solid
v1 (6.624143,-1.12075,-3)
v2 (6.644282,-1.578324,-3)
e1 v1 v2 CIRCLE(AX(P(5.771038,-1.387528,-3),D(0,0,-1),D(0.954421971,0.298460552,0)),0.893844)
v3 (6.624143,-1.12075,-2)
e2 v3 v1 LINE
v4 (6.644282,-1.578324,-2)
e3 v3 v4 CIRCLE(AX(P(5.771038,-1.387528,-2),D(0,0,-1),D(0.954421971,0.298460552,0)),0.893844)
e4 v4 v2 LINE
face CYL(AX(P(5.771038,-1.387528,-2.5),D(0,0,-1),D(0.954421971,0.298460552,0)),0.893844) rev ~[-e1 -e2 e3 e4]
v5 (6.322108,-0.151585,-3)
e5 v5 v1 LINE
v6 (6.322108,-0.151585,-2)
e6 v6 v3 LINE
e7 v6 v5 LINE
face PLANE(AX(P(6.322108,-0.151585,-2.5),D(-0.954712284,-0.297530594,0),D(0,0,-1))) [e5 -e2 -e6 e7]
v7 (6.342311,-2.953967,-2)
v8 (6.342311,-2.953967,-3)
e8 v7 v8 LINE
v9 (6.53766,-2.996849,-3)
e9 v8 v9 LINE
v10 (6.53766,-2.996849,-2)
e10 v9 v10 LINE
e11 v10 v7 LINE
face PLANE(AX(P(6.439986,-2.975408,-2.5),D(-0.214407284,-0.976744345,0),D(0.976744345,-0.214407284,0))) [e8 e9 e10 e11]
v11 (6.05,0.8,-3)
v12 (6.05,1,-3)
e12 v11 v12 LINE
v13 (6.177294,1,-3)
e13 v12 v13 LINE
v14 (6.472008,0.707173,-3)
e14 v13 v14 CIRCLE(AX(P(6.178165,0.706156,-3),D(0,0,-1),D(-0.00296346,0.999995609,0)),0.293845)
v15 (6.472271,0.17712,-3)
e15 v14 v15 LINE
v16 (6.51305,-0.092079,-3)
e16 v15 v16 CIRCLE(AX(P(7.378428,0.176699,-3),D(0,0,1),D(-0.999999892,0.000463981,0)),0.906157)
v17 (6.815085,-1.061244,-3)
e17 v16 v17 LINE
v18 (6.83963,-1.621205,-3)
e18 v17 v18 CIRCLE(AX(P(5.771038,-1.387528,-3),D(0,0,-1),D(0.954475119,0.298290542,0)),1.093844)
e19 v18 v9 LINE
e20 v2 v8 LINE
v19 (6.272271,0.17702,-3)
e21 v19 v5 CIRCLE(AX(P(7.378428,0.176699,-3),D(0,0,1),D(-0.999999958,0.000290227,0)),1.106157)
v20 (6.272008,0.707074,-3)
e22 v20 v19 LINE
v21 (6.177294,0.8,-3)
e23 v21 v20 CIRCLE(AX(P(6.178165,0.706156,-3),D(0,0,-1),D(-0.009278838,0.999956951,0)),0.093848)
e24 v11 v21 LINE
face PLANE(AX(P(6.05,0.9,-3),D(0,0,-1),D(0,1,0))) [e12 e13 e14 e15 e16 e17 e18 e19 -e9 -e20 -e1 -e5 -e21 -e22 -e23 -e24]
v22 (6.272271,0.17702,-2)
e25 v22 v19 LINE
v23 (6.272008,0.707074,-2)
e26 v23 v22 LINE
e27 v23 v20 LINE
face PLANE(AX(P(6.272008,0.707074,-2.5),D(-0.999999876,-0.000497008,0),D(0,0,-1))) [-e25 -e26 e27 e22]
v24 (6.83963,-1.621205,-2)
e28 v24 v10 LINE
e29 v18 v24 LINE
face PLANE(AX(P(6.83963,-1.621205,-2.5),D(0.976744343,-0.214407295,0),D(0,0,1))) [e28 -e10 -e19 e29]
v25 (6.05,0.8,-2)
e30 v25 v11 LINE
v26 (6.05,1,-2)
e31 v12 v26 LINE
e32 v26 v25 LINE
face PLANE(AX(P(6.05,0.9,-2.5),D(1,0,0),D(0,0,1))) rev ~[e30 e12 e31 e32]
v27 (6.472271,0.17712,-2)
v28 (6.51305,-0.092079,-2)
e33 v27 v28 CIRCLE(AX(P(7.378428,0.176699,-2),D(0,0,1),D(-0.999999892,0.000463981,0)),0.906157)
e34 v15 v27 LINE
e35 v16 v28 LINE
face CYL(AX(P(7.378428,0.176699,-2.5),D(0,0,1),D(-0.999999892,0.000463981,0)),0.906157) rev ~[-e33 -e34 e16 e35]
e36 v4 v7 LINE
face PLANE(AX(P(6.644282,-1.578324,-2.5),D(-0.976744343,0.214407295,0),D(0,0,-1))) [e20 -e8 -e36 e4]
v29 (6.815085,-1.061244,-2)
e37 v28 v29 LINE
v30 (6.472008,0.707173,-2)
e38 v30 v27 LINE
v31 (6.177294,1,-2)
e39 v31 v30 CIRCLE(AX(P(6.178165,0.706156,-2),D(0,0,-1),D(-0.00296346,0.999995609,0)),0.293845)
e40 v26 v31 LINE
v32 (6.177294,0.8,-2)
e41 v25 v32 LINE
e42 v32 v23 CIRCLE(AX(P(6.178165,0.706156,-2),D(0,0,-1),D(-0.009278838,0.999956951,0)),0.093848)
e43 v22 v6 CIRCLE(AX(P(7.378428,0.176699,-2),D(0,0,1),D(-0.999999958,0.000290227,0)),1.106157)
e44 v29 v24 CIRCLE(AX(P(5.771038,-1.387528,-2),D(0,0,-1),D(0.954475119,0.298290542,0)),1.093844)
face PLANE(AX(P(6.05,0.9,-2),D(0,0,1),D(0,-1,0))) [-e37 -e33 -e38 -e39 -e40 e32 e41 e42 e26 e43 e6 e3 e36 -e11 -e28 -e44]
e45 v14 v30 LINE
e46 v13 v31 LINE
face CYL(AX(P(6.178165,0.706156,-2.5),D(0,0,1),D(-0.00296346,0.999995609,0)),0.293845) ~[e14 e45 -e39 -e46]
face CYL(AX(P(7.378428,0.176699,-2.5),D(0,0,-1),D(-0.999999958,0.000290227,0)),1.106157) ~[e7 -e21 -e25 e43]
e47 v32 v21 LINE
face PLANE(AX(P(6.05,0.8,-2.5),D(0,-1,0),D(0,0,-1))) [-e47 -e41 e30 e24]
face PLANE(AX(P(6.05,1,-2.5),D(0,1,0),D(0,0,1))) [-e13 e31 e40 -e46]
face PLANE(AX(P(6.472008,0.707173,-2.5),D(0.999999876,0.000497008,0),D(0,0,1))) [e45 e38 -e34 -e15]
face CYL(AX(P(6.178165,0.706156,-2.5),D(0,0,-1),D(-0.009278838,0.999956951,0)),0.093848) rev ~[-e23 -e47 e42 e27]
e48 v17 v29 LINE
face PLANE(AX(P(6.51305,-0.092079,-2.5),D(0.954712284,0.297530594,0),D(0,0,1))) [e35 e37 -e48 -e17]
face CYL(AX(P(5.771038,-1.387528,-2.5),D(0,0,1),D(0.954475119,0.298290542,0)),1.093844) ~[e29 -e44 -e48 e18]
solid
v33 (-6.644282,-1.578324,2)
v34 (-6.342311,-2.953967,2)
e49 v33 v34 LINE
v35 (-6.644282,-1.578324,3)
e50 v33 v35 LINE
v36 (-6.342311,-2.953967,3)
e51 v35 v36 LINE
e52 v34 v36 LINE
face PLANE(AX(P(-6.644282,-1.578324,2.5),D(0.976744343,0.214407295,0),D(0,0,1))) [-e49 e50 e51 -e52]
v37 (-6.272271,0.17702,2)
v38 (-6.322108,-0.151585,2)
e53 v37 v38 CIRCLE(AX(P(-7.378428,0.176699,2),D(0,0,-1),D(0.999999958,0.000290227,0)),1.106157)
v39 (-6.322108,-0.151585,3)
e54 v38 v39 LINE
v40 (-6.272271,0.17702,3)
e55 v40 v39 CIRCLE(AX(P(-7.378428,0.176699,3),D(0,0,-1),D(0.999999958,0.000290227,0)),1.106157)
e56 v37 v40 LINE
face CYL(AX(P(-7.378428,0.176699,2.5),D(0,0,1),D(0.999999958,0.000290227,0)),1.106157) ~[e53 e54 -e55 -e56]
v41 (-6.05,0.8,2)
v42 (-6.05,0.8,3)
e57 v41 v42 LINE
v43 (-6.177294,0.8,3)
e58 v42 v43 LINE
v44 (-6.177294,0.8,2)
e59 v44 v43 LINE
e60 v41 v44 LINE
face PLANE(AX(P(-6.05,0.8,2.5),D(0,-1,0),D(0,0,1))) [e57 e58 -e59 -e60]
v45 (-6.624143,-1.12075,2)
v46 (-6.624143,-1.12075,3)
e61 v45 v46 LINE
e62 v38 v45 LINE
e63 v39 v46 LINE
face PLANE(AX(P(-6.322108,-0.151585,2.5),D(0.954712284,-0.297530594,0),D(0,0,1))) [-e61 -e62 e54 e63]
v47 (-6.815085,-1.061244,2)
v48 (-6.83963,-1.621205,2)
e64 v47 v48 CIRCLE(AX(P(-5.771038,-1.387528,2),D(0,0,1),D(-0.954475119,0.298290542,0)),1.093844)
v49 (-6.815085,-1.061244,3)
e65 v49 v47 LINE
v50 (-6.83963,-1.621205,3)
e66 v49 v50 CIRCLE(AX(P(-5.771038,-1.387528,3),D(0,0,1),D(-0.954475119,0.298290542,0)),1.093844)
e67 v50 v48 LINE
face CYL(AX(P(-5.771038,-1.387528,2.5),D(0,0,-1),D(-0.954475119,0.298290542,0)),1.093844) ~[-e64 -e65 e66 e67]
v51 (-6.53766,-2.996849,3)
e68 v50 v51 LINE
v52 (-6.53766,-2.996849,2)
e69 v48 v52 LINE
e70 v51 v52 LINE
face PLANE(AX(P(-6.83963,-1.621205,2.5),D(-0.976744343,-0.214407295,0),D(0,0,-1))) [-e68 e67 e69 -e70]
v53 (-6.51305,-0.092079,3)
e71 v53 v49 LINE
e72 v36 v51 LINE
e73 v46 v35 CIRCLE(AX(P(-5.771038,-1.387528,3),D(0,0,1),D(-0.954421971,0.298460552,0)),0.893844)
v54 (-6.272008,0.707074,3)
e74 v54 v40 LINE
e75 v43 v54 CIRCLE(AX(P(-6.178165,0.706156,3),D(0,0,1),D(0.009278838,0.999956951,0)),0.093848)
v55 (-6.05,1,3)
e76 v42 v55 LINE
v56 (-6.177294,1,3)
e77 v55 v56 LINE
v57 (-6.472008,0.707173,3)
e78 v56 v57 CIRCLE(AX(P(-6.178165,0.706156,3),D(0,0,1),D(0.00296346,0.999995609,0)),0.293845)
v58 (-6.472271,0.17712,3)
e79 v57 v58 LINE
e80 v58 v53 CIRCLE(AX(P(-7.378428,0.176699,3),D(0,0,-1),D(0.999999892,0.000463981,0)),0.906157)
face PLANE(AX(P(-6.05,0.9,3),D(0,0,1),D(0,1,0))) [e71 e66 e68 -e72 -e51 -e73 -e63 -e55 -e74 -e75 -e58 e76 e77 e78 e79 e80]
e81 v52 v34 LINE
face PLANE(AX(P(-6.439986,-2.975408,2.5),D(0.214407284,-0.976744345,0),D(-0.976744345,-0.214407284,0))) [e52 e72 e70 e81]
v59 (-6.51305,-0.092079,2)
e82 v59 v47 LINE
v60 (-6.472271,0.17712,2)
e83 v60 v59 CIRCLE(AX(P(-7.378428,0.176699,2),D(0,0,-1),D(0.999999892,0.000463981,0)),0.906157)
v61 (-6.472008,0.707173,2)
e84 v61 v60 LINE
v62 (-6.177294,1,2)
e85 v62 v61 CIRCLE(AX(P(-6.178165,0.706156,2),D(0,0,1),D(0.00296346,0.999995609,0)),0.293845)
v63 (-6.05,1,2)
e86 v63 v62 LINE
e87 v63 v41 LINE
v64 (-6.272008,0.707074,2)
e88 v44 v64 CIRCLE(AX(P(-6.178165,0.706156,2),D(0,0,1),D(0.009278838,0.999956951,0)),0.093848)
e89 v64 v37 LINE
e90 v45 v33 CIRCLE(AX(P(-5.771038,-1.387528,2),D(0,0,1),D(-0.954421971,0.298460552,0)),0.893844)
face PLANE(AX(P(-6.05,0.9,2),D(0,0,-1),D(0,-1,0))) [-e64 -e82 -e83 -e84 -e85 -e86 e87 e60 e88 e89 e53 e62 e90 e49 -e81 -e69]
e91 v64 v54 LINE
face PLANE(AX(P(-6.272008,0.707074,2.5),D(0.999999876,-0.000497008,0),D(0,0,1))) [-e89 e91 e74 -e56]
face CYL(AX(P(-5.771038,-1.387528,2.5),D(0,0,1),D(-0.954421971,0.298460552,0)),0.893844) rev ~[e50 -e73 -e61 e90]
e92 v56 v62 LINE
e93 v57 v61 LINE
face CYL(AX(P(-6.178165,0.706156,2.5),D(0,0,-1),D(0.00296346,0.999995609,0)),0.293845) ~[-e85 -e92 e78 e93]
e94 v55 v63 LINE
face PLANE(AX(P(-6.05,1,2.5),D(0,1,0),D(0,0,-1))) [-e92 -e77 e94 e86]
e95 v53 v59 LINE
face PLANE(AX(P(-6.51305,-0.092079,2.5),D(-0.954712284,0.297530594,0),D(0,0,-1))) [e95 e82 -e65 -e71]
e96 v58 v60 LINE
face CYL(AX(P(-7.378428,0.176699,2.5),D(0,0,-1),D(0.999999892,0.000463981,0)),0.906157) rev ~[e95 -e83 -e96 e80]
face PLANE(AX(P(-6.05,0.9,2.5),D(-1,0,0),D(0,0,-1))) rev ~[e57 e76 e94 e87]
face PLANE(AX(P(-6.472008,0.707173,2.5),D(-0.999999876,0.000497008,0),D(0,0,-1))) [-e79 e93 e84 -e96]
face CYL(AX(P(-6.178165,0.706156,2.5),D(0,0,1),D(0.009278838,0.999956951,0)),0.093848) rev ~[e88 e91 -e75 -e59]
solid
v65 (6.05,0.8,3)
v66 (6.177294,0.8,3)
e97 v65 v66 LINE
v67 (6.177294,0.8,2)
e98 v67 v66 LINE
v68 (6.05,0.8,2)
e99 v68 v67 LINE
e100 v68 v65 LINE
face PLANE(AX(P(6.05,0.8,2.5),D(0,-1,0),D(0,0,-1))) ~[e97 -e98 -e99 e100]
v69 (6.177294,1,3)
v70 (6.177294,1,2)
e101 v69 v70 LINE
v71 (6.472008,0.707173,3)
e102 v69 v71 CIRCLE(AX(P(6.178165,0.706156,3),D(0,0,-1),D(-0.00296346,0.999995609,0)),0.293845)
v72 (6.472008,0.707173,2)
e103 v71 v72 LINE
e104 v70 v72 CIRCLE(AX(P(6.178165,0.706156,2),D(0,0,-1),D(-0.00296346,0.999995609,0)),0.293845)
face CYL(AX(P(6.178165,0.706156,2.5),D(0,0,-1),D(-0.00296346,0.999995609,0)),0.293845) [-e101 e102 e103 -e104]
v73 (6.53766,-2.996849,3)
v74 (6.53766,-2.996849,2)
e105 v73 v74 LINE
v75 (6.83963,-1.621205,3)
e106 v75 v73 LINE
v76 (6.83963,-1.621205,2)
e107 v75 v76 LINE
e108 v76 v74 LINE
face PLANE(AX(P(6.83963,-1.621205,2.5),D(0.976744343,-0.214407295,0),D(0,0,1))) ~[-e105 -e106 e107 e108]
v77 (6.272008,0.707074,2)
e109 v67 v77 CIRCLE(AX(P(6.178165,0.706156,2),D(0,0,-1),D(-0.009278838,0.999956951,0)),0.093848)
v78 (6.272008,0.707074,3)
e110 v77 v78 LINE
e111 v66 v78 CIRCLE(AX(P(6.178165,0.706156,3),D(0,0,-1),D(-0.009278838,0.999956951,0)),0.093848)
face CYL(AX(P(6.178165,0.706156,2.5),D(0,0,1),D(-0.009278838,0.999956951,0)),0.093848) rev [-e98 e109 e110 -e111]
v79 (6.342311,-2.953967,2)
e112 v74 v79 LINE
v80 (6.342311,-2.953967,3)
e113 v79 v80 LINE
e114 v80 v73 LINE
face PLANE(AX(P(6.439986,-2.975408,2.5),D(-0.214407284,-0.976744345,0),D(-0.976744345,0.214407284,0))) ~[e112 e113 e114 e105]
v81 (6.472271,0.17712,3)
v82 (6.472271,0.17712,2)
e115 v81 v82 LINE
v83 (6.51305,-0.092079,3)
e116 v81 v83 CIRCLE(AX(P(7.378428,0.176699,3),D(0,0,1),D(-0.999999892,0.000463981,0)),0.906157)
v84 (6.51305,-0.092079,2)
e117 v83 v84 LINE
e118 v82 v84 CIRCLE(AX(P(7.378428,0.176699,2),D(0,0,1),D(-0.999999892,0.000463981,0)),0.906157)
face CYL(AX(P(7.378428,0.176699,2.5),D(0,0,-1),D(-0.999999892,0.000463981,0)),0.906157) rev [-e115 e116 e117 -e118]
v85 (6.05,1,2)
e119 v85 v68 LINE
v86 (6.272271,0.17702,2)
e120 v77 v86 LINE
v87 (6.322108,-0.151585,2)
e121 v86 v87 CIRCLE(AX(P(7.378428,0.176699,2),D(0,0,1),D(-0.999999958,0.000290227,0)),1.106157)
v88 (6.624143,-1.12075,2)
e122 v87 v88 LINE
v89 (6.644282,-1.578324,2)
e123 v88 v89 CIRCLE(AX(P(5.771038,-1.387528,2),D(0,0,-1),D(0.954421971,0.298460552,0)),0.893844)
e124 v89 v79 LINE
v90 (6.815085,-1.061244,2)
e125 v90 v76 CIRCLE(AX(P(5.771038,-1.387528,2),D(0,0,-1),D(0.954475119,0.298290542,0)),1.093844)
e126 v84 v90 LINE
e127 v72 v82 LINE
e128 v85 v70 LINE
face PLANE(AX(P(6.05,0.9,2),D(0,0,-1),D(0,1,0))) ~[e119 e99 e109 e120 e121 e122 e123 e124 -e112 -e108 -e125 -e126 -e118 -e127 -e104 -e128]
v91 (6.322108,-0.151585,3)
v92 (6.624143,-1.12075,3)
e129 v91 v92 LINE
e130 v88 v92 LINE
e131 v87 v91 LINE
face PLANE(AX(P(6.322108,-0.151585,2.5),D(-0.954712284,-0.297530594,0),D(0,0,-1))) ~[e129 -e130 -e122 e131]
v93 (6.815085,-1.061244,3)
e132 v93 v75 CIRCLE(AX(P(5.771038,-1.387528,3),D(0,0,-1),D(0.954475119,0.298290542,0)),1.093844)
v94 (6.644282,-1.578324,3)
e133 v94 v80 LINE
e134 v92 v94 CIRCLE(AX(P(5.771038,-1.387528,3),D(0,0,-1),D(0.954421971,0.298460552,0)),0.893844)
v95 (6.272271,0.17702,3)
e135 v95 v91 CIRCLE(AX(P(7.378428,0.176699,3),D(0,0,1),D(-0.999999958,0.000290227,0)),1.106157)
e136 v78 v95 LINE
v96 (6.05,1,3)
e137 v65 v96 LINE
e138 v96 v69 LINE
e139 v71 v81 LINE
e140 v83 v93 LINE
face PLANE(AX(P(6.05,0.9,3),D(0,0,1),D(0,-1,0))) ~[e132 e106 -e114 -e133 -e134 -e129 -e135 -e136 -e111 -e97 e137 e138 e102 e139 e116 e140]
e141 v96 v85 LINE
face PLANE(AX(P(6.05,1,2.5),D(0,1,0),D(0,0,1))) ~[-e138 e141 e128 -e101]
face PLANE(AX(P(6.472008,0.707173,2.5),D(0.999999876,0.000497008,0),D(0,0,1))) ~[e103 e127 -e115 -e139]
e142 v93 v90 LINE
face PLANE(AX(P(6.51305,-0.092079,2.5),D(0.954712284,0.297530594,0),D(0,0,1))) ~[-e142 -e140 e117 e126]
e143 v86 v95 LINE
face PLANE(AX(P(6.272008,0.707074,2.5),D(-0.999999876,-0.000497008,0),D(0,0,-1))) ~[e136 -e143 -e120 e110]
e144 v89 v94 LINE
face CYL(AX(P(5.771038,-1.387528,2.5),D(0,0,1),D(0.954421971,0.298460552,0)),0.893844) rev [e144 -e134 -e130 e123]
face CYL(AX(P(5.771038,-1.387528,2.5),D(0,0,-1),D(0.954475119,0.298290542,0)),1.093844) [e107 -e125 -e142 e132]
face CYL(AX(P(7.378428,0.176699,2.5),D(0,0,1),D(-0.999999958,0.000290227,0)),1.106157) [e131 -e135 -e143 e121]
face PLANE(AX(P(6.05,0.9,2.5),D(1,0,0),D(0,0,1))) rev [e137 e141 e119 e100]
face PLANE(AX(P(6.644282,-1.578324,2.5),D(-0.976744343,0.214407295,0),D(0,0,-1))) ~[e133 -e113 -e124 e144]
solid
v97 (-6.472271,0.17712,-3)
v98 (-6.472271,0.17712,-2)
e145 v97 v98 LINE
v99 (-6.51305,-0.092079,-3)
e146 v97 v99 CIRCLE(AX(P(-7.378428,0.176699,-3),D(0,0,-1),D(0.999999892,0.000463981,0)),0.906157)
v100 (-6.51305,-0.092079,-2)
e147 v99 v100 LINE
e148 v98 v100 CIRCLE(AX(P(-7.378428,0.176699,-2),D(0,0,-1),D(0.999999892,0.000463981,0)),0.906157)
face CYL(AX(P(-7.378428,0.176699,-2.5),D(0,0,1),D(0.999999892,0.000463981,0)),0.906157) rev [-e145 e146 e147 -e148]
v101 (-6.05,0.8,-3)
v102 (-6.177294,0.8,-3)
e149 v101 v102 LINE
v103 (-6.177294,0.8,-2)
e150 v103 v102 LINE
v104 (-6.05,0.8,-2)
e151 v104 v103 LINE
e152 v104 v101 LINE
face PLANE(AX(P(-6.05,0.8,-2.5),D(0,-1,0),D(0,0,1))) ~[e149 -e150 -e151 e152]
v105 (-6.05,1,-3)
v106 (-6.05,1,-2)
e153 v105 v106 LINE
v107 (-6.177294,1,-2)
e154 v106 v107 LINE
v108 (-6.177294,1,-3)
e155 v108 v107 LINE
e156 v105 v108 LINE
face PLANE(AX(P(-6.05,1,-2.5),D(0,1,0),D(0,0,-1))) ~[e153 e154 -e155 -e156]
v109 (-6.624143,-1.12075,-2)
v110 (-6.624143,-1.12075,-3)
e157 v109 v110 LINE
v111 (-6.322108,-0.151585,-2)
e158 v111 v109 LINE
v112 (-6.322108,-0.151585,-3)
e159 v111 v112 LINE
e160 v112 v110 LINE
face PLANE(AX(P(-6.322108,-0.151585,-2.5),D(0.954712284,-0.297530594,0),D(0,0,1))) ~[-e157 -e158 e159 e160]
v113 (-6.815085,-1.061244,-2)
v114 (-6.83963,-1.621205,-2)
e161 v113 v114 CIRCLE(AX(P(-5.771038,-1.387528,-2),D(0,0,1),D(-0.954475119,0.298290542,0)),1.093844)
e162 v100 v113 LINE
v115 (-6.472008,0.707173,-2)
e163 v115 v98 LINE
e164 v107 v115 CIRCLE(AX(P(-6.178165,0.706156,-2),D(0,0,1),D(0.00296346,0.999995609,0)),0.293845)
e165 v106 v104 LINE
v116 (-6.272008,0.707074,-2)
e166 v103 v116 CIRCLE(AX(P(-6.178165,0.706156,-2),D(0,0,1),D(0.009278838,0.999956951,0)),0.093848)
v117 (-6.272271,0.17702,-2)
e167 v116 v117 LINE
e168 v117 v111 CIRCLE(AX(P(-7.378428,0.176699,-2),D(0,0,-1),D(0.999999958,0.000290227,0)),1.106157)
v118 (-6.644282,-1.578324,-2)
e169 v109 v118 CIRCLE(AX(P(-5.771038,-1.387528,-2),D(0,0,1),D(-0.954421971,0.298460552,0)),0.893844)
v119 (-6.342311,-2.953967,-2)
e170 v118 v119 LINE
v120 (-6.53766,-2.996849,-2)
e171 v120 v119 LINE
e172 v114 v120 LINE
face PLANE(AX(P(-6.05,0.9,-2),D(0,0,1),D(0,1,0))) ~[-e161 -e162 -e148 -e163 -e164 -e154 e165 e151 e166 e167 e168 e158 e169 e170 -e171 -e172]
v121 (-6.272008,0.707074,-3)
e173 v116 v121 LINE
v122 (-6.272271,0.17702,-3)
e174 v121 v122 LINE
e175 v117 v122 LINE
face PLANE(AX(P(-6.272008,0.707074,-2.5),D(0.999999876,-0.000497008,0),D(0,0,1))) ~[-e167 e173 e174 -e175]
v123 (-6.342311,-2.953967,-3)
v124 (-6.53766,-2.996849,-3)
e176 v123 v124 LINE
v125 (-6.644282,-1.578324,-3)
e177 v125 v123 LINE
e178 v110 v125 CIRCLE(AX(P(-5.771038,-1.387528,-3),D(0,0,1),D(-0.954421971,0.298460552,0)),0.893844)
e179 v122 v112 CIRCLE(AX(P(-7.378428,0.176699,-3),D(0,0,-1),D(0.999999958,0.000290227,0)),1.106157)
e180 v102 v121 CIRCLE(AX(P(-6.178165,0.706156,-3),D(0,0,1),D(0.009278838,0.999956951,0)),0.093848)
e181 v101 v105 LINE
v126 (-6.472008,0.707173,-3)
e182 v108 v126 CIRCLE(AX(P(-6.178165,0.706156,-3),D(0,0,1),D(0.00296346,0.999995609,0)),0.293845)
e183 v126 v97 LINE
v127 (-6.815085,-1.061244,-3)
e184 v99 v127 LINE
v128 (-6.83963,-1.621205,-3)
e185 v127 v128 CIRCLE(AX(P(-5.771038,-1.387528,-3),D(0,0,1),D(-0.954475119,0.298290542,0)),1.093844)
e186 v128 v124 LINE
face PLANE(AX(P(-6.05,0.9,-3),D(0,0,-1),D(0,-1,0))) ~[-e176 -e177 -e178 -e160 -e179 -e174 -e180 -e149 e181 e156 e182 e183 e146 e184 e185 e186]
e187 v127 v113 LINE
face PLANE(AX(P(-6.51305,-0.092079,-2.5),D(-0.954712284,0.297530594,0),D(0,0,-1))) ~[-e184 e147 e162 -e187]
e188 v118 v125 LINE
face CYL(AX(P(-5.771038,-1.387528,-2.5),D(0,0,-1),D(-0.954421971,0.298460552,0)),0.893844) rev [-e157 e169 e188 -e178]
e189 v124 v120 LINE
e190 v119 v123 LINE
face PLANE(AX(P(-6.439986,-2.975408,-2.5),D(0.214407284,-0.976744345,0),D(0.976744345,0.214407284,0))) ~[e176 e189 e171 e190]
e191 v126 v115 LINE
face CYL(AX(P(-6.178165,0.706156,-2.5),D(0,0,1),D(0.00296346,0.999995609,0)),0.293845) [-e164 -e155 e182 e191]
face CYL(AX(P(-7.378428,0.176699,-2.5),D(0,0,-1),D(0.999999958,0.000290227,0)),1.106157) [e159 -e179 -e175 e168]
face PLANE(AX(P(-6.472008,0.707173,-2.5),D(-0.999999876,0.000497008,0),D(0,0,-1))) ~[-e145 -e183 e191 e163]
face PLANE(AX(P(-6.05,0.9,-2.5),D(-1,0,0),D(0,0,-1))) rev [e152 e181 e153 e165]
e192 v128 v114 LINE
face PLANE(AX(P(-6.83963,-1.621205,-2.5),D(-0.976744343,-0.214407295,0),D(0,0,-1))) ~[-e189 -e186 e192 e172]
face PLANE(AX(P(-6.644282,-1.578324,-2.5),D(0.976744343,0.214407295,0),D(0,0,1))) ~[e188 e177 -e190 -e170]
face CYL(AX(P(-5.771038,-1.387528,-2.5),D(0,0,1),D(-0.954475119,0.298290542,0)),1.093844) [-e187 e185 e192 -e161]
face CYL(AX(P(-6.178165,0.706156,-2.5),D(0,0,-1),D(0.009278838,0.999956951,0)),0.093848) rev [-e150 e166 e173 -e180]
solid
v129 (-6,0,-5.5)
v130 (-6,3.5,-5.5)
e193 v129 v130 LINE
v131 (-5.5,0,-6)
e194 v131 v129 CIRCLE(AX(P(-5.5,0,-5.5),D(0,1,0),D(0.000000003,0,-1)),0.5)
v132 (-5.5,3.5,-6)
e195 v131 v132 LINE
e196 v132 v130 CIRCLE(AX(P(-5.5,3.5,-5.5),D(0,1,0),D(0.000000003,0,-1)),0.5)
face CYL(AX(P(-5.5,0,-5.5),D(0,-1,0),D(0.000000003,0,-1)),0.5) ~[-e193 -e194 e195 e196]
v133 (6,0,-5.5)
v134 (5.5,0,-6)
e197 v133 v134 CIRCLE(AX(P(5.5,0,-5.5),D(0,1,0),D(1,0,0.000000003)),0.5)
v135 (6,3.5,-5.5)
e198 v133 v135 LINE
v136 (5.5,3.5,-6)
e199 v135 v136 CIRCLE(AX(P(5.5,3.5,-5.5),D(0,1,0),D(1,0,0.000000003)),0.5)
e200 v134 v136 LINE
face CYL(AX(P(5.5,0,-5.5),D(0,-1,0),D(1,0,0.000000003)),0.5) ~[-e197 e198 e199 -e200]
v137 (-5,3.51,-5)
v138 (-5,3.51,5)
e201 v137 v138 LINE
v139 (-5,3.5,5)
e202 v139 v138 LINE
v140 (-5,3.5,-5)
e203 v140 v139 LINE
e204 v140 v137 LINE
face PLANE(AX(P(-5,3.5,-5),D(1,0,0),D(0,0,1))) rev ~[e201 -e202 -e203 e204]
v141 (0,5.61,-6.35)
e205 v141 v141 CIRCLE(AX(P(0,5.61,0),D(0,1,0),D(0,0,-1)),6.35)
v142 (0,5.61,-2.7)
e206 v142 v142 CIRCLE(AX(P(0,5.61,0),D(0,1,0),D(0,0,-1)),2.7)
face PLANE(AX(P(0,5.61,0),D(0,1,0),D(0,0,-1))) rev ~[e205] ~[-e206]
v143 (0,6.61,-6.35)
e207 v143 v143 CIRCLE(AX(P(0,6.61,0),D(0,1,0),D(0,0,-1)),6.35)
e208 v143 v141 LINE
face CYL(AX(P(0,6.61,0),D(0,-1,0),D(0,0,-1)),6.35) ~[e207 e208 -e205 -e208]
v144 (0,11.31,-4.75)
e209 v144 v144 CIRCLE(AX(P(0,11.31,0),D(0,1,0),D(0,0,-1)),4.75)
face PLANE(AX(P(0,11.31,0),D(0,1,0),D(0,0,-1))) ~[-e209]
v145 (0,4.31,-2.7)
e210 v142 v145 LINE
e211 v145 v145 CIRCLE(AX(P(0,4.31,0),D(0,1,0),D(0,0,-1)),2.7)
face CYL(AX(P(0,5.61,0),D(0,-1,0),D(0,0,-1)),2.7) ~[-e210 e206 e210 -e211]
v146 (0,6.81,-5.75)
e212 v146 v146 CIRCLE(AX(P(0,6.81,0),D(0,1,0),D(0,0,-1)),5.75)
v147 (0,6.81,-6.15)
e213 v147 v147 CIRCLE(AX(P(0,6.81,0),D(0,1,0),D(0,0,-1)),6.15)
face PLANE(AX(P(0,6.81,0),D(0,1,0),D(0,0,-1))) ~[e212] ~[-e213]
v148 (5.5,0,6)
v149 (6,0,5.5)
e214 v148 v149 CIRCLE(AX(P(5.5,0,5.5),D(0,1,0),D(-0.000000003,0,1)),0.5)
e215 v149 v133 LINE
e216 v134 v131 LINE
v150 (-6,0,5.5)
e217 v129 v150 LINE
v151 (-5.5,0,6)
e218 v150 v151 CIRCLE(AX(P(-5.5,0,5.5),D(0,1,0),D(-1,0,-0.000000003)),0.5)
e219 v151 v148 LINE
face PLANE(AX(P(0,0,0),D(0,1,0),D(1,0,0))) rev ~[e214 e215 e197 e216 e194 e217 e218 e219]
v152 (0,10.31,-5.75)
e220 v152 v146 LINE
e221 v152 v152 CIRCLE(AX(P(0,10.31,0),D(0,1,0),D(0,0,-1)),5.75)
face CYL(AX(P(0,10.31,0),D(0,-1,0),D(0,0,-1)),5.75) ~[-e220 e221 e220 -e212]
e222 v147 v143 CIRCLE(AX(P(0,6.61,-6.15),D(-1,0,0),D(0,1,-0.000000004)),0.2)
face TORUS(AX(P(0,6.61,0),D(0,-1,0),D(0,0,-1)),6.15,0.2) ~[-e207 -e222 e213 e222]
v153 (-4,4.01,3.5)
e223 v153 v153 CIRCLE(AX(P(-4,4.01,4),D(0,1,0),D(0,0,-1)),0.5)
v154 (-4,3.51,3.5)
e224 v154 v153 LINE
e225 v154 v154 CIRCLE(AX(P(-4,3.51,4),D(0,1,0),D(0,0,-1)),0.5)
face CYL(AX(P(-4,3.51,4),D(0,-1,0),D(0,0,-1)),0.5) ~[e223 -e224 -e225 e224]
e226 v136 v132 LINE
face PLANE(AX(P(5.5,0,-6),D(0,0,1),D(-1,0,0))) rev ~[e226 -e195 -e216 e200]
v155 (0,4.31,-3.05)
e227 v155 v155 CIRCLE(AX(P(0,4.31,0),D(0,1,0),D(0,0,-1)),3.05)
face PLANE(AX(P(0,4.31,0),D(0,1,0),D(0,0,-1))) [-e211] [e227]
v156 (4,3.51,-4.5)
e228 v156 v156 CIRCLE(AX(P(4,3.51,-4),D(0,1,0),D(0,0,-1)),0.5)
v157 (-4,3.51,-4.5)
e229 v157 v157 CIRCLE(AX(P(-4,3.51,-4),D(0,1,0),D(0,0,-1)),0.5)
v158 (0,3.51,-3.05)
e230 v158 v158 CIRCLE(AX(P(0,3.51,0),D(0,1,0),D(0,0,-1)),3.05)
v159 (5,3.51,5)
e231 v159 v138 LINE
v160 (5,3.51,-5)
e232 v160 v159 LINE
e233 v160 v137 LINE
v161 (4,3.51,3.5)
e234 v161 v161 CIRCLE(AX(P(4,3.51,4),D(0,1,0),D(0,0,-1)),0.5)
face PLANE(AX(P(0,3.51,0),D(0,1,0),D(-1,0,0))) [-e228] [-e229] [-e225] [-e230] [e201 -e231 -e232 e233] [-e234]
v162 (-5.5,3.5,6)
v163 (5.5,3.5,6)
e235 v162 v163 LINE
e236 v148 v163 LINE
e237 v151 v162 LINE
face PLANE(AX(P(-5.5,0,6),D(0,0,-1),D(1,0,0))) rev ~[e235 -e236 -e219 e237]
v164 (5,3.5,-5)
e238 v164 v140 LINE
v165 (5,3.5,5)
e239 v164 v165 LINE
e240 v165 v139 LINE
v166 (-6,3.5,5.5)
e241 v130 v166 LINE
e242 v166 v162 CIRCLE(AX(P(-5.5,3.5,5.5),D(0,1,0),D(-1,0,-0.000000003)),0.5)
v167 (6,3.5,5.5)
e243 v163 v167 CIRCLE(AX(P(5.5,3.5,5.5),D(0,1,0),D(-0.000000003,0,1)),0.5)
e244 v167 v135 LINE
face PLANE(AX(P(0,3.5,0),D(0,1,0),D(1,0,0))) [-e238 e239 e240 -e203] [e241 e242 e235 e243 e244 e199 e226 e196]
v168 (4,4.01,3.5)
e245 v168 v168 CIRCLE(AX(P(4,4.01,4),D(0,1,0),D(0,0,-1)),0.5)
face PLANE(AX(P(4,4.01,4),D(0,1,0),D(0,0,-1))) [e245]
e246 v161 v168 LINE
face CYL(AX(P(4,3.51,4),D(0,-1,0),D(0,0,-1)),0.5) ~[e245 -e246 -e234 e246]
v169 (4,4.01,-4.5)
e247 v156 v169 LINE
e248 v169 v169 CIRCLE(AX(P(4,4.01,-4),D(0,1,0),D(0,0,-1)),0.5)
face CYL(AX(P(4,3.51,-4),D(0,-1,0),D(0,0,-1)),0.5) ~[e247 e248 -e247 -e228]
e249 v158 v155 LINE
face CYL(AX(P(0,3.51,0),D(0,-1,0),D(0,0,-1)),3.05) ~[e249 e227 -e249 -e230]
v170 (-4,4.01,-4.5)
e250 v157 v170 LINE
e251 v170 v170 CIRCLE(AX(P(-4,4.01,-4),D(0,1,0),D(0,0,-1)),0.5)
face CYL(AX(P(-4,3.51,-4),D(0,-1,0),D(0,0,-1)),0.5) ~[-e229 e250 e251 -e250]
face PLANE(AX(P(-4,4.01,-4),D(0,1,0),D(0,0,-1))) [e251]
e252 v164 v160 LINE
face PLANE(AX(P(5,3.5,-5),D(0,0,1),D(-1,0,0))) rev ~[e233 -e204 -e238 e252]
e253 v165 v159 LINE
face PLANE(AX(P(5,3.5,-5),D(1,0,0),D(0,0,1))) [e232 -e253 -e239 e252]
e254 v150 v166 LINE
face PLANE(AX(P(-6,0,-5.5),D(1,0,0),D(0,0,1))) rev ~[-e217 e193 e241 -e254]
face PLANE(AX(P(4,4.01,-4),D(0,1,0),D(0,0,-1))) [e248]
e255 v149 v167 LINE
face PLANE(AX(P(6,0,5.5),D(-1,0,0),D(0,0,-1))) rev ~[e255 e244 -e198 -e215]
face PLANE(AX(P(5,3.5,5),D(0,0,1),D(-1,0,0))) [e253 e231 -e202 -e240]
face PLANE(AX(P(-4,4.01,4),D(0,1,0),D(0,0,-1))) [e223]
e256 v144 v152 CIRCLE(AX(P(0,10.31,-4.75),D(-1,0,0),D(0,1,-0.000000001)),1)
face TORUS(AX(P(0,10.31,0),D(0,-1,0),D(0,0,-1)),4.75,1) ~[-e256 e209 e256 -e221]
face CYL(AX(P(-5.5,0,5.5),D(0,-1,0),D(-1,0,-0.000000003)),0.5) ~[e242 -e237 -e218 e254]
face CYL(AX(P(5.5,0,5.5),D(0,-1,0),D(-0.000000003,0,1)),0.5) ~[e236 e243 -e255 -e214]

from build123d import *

# Parameters (mm, degrees)
EXTRUSION2_DEPTH = 3.5
ESQUISSE2_W      = 10
ESQUISSE2_H      = 10
EXTRUSION5_DEPTH = 0.01
ESQUISSE6_R      = 0.5
EXTRUSION6_DEPTH = 0.5
ESQUISSE7_R      = 3.05
EXTRUSION7_DEPTH = 0.8
ESQUISSE10_W     = 1
ESQUISSE10_H     = 0.2


with BuildPart() as part:
    # Esquisse1 → Extrusion2 (new body)
    with BuildSketch(Plane(origin=(0, 0, 0), x_dir=(1, 0, 0), z_dir=(0, 1, 0))):
        with BuildLine():
            Line((-5.5, -6), (5.5, -6))
            ThreePointArc((5.5, -6), (5.853553391, -5.853553391), (6, -5.5))
            Line((6, -5.5), (6, 5.5))
            ThreePointArc((6, 5.5), (5.853553391, 5.853553391), (5.5, 6))
            Line((5.5, 6), (-5.5, 6))
            ThreePointArc((-5.5, 6), (-5.853553391, 5.853553391), (-6, 5.5))
            Line((-6, 5.5), (-6, -5.5))
            ThreePointArc((-6, -5.5), (-5.853553391, -5.853553391), (-5.5, -6))
        make_face()
    extrude(amount=EXTRUSION2_DEPTH)

    # Esquisse2 → Extrusion5 (add)
    with BuildSketch(Plane(origin=(0, 3.5, 0), x_dir=(-1, 0, 0), z_dir=(0, 1, 0))):
        Rectangle(ESQUISSE2_W, ESQUISSE2_H)
    extrude(amount=EXTRUSION5_DEPTH)

    # Esquisse6 → Extrusion6 (add)
    with BuildSketch(Plane(origin=(0, 3.51, 0), x_dir=(-1, 0, 0), z_dir=(0, 1, 0))):
        with Locations(Location((4, 4, 0), (0, 0, 270))):  # turned: the seam where the file's is
            Circle(ESQUISSE6_R)
        with Locations(Location((-4, 4, 0), (0, 0, 270))):  # turned: the seam where the file's is
            Circle(ESQUISSE6_R)
        with Locations(Location((-4, -4, 0), (0, 0, 270))):  # turned: the seam where the file's is
            Circle(ESQUISSE6_R)
        with Locations(Location((4, -4, 0), (0, 0, 270))):  # turned: the seam where the file's is
            Circle(ESQUISSE6_R)
    extrude(amount=EXTRUSION6_DEPTH)

    # Esquisse7 → Extrusion7 (add)
    with BuildSketch(Plane(origin=(0, 3.51, 0), x_dir=(-1, 0, 0), z_dir=(0, 1, 0))):
        with Locations(Location((0, 0, 0), (0, 0, 270))):  # turned: the seam where the file's is
            Circle(ESQUISSE7_R)
    extrude(amount=EXTRUSION7_DEPTH)

    # Esquisse11 → Révolution2 (revolve)
    with BuildSketch(Plane(origin=(0, 0, 0), x_dir=(0, 0, -1), z_dir=(1, 0, 0)), mode=Mode.PRIVATE) as r_volution2_sk:
        with BuildLine():
            Line((0, 11.31), (-4.75, 11.31))
            ThreePointArc((-4.75, 11.31), (-5.457106781, 11.017106781), (-5.75, 10.31))
            Line((-5.75, 10.31), (-5.75, 6.81))
            Line((-5.75, 6.81), (-6.15, 6.81))
            ThreePointArc((-6.15, 6.81), (-6.291421356, 6.751421356), (-6.35, 6.61))
            Line((-6.35, 6.61), (-6.35, 5.61))
            Line((-6.35, 5.61), (-2.7, 5.61))
            Line((-2.7, 5.61), (-2.7, 4.31))
            Line((-2.7, 4.31), (0, 4.31))
            Line((0, 4.31), (0, 11.31))
        make_face()
    revolve(r_volution2_sk.sketch.rotate(Axis((0, 4.31, 0), (0, 1, 0)), 180), axis=Axis((0, 4.31, 0), (0, 1, 0)))  # turned: the seam where the file's is


with BuildPart() as body_2:
    # Balayage2: sweep along a curve in space
    with BuildLine() as balayage2_path:
        Line((-6.050870798, 0.906156302, 2.505204921), (-6.178164518, 0.906156302, 2.505204921))
        ThreePointArc((-6.178164518, 0.906156302, 2.505204921), (-6.319550726, 0.847612798, 2.505204921), (-6.378164494, 0.706255704, 2.505204921))
        Line((-6.378164494, 0.706255704, 2.505204921), (-6.378427935, 0.176202163, 2.505204921))
        ThreePointArc((-6.378427935, 0.176202163, 2.505204921), (-6.389851994, 0.025974739, 2.505204921), (-6.423715527, -0.120831423, 2.505204921))
        Line((-6.423715527, -0.120831423, 2.505204921), (-6.725750394, -1.089996959, 2.505204921))
        ThreePointArc((-6.725750394, -1.089996959, 2.505204921), (-6.770113321, -1.344530767, 2.505204921), (-6.747782453, -1.601934848, 2.505204921))
        Line((-6.747782453, -1.601934848, 2.505204921), (-6.445811931, -2.977578337, 2.505204921))
    # Esquisse10 → Balayage2 (sweep)
    with BuildSketch(Plane.ZY.offset(6.05)):
        with Locations((2.5, 0.9)):
            Rectangle(ESQUISSE10_W, ESQUISSE10_H)
    sweep(path=balayage2_path.line)


with BuildPart() as body_3:
    # Symétrie2: mirrored copy
    add(body_2.part.mirror(Plane(origin=(0, 0, 0), x_dir=(1, 0, 0), z_dir=(0, 0, -1))))


with BuildPart() as body_4:
    # Symétrie3: mirrored copy
    add(body_3.part.mirror(Plane.ZY))


with BuildPart() as body_5:
    # Sym_trie3 2: mirrored copy
    add(body_2.part.mirror(Plane.ZY))


solid = Compound([part.part, body_2.part, body_3.part, body_4.part, body_5.part])
